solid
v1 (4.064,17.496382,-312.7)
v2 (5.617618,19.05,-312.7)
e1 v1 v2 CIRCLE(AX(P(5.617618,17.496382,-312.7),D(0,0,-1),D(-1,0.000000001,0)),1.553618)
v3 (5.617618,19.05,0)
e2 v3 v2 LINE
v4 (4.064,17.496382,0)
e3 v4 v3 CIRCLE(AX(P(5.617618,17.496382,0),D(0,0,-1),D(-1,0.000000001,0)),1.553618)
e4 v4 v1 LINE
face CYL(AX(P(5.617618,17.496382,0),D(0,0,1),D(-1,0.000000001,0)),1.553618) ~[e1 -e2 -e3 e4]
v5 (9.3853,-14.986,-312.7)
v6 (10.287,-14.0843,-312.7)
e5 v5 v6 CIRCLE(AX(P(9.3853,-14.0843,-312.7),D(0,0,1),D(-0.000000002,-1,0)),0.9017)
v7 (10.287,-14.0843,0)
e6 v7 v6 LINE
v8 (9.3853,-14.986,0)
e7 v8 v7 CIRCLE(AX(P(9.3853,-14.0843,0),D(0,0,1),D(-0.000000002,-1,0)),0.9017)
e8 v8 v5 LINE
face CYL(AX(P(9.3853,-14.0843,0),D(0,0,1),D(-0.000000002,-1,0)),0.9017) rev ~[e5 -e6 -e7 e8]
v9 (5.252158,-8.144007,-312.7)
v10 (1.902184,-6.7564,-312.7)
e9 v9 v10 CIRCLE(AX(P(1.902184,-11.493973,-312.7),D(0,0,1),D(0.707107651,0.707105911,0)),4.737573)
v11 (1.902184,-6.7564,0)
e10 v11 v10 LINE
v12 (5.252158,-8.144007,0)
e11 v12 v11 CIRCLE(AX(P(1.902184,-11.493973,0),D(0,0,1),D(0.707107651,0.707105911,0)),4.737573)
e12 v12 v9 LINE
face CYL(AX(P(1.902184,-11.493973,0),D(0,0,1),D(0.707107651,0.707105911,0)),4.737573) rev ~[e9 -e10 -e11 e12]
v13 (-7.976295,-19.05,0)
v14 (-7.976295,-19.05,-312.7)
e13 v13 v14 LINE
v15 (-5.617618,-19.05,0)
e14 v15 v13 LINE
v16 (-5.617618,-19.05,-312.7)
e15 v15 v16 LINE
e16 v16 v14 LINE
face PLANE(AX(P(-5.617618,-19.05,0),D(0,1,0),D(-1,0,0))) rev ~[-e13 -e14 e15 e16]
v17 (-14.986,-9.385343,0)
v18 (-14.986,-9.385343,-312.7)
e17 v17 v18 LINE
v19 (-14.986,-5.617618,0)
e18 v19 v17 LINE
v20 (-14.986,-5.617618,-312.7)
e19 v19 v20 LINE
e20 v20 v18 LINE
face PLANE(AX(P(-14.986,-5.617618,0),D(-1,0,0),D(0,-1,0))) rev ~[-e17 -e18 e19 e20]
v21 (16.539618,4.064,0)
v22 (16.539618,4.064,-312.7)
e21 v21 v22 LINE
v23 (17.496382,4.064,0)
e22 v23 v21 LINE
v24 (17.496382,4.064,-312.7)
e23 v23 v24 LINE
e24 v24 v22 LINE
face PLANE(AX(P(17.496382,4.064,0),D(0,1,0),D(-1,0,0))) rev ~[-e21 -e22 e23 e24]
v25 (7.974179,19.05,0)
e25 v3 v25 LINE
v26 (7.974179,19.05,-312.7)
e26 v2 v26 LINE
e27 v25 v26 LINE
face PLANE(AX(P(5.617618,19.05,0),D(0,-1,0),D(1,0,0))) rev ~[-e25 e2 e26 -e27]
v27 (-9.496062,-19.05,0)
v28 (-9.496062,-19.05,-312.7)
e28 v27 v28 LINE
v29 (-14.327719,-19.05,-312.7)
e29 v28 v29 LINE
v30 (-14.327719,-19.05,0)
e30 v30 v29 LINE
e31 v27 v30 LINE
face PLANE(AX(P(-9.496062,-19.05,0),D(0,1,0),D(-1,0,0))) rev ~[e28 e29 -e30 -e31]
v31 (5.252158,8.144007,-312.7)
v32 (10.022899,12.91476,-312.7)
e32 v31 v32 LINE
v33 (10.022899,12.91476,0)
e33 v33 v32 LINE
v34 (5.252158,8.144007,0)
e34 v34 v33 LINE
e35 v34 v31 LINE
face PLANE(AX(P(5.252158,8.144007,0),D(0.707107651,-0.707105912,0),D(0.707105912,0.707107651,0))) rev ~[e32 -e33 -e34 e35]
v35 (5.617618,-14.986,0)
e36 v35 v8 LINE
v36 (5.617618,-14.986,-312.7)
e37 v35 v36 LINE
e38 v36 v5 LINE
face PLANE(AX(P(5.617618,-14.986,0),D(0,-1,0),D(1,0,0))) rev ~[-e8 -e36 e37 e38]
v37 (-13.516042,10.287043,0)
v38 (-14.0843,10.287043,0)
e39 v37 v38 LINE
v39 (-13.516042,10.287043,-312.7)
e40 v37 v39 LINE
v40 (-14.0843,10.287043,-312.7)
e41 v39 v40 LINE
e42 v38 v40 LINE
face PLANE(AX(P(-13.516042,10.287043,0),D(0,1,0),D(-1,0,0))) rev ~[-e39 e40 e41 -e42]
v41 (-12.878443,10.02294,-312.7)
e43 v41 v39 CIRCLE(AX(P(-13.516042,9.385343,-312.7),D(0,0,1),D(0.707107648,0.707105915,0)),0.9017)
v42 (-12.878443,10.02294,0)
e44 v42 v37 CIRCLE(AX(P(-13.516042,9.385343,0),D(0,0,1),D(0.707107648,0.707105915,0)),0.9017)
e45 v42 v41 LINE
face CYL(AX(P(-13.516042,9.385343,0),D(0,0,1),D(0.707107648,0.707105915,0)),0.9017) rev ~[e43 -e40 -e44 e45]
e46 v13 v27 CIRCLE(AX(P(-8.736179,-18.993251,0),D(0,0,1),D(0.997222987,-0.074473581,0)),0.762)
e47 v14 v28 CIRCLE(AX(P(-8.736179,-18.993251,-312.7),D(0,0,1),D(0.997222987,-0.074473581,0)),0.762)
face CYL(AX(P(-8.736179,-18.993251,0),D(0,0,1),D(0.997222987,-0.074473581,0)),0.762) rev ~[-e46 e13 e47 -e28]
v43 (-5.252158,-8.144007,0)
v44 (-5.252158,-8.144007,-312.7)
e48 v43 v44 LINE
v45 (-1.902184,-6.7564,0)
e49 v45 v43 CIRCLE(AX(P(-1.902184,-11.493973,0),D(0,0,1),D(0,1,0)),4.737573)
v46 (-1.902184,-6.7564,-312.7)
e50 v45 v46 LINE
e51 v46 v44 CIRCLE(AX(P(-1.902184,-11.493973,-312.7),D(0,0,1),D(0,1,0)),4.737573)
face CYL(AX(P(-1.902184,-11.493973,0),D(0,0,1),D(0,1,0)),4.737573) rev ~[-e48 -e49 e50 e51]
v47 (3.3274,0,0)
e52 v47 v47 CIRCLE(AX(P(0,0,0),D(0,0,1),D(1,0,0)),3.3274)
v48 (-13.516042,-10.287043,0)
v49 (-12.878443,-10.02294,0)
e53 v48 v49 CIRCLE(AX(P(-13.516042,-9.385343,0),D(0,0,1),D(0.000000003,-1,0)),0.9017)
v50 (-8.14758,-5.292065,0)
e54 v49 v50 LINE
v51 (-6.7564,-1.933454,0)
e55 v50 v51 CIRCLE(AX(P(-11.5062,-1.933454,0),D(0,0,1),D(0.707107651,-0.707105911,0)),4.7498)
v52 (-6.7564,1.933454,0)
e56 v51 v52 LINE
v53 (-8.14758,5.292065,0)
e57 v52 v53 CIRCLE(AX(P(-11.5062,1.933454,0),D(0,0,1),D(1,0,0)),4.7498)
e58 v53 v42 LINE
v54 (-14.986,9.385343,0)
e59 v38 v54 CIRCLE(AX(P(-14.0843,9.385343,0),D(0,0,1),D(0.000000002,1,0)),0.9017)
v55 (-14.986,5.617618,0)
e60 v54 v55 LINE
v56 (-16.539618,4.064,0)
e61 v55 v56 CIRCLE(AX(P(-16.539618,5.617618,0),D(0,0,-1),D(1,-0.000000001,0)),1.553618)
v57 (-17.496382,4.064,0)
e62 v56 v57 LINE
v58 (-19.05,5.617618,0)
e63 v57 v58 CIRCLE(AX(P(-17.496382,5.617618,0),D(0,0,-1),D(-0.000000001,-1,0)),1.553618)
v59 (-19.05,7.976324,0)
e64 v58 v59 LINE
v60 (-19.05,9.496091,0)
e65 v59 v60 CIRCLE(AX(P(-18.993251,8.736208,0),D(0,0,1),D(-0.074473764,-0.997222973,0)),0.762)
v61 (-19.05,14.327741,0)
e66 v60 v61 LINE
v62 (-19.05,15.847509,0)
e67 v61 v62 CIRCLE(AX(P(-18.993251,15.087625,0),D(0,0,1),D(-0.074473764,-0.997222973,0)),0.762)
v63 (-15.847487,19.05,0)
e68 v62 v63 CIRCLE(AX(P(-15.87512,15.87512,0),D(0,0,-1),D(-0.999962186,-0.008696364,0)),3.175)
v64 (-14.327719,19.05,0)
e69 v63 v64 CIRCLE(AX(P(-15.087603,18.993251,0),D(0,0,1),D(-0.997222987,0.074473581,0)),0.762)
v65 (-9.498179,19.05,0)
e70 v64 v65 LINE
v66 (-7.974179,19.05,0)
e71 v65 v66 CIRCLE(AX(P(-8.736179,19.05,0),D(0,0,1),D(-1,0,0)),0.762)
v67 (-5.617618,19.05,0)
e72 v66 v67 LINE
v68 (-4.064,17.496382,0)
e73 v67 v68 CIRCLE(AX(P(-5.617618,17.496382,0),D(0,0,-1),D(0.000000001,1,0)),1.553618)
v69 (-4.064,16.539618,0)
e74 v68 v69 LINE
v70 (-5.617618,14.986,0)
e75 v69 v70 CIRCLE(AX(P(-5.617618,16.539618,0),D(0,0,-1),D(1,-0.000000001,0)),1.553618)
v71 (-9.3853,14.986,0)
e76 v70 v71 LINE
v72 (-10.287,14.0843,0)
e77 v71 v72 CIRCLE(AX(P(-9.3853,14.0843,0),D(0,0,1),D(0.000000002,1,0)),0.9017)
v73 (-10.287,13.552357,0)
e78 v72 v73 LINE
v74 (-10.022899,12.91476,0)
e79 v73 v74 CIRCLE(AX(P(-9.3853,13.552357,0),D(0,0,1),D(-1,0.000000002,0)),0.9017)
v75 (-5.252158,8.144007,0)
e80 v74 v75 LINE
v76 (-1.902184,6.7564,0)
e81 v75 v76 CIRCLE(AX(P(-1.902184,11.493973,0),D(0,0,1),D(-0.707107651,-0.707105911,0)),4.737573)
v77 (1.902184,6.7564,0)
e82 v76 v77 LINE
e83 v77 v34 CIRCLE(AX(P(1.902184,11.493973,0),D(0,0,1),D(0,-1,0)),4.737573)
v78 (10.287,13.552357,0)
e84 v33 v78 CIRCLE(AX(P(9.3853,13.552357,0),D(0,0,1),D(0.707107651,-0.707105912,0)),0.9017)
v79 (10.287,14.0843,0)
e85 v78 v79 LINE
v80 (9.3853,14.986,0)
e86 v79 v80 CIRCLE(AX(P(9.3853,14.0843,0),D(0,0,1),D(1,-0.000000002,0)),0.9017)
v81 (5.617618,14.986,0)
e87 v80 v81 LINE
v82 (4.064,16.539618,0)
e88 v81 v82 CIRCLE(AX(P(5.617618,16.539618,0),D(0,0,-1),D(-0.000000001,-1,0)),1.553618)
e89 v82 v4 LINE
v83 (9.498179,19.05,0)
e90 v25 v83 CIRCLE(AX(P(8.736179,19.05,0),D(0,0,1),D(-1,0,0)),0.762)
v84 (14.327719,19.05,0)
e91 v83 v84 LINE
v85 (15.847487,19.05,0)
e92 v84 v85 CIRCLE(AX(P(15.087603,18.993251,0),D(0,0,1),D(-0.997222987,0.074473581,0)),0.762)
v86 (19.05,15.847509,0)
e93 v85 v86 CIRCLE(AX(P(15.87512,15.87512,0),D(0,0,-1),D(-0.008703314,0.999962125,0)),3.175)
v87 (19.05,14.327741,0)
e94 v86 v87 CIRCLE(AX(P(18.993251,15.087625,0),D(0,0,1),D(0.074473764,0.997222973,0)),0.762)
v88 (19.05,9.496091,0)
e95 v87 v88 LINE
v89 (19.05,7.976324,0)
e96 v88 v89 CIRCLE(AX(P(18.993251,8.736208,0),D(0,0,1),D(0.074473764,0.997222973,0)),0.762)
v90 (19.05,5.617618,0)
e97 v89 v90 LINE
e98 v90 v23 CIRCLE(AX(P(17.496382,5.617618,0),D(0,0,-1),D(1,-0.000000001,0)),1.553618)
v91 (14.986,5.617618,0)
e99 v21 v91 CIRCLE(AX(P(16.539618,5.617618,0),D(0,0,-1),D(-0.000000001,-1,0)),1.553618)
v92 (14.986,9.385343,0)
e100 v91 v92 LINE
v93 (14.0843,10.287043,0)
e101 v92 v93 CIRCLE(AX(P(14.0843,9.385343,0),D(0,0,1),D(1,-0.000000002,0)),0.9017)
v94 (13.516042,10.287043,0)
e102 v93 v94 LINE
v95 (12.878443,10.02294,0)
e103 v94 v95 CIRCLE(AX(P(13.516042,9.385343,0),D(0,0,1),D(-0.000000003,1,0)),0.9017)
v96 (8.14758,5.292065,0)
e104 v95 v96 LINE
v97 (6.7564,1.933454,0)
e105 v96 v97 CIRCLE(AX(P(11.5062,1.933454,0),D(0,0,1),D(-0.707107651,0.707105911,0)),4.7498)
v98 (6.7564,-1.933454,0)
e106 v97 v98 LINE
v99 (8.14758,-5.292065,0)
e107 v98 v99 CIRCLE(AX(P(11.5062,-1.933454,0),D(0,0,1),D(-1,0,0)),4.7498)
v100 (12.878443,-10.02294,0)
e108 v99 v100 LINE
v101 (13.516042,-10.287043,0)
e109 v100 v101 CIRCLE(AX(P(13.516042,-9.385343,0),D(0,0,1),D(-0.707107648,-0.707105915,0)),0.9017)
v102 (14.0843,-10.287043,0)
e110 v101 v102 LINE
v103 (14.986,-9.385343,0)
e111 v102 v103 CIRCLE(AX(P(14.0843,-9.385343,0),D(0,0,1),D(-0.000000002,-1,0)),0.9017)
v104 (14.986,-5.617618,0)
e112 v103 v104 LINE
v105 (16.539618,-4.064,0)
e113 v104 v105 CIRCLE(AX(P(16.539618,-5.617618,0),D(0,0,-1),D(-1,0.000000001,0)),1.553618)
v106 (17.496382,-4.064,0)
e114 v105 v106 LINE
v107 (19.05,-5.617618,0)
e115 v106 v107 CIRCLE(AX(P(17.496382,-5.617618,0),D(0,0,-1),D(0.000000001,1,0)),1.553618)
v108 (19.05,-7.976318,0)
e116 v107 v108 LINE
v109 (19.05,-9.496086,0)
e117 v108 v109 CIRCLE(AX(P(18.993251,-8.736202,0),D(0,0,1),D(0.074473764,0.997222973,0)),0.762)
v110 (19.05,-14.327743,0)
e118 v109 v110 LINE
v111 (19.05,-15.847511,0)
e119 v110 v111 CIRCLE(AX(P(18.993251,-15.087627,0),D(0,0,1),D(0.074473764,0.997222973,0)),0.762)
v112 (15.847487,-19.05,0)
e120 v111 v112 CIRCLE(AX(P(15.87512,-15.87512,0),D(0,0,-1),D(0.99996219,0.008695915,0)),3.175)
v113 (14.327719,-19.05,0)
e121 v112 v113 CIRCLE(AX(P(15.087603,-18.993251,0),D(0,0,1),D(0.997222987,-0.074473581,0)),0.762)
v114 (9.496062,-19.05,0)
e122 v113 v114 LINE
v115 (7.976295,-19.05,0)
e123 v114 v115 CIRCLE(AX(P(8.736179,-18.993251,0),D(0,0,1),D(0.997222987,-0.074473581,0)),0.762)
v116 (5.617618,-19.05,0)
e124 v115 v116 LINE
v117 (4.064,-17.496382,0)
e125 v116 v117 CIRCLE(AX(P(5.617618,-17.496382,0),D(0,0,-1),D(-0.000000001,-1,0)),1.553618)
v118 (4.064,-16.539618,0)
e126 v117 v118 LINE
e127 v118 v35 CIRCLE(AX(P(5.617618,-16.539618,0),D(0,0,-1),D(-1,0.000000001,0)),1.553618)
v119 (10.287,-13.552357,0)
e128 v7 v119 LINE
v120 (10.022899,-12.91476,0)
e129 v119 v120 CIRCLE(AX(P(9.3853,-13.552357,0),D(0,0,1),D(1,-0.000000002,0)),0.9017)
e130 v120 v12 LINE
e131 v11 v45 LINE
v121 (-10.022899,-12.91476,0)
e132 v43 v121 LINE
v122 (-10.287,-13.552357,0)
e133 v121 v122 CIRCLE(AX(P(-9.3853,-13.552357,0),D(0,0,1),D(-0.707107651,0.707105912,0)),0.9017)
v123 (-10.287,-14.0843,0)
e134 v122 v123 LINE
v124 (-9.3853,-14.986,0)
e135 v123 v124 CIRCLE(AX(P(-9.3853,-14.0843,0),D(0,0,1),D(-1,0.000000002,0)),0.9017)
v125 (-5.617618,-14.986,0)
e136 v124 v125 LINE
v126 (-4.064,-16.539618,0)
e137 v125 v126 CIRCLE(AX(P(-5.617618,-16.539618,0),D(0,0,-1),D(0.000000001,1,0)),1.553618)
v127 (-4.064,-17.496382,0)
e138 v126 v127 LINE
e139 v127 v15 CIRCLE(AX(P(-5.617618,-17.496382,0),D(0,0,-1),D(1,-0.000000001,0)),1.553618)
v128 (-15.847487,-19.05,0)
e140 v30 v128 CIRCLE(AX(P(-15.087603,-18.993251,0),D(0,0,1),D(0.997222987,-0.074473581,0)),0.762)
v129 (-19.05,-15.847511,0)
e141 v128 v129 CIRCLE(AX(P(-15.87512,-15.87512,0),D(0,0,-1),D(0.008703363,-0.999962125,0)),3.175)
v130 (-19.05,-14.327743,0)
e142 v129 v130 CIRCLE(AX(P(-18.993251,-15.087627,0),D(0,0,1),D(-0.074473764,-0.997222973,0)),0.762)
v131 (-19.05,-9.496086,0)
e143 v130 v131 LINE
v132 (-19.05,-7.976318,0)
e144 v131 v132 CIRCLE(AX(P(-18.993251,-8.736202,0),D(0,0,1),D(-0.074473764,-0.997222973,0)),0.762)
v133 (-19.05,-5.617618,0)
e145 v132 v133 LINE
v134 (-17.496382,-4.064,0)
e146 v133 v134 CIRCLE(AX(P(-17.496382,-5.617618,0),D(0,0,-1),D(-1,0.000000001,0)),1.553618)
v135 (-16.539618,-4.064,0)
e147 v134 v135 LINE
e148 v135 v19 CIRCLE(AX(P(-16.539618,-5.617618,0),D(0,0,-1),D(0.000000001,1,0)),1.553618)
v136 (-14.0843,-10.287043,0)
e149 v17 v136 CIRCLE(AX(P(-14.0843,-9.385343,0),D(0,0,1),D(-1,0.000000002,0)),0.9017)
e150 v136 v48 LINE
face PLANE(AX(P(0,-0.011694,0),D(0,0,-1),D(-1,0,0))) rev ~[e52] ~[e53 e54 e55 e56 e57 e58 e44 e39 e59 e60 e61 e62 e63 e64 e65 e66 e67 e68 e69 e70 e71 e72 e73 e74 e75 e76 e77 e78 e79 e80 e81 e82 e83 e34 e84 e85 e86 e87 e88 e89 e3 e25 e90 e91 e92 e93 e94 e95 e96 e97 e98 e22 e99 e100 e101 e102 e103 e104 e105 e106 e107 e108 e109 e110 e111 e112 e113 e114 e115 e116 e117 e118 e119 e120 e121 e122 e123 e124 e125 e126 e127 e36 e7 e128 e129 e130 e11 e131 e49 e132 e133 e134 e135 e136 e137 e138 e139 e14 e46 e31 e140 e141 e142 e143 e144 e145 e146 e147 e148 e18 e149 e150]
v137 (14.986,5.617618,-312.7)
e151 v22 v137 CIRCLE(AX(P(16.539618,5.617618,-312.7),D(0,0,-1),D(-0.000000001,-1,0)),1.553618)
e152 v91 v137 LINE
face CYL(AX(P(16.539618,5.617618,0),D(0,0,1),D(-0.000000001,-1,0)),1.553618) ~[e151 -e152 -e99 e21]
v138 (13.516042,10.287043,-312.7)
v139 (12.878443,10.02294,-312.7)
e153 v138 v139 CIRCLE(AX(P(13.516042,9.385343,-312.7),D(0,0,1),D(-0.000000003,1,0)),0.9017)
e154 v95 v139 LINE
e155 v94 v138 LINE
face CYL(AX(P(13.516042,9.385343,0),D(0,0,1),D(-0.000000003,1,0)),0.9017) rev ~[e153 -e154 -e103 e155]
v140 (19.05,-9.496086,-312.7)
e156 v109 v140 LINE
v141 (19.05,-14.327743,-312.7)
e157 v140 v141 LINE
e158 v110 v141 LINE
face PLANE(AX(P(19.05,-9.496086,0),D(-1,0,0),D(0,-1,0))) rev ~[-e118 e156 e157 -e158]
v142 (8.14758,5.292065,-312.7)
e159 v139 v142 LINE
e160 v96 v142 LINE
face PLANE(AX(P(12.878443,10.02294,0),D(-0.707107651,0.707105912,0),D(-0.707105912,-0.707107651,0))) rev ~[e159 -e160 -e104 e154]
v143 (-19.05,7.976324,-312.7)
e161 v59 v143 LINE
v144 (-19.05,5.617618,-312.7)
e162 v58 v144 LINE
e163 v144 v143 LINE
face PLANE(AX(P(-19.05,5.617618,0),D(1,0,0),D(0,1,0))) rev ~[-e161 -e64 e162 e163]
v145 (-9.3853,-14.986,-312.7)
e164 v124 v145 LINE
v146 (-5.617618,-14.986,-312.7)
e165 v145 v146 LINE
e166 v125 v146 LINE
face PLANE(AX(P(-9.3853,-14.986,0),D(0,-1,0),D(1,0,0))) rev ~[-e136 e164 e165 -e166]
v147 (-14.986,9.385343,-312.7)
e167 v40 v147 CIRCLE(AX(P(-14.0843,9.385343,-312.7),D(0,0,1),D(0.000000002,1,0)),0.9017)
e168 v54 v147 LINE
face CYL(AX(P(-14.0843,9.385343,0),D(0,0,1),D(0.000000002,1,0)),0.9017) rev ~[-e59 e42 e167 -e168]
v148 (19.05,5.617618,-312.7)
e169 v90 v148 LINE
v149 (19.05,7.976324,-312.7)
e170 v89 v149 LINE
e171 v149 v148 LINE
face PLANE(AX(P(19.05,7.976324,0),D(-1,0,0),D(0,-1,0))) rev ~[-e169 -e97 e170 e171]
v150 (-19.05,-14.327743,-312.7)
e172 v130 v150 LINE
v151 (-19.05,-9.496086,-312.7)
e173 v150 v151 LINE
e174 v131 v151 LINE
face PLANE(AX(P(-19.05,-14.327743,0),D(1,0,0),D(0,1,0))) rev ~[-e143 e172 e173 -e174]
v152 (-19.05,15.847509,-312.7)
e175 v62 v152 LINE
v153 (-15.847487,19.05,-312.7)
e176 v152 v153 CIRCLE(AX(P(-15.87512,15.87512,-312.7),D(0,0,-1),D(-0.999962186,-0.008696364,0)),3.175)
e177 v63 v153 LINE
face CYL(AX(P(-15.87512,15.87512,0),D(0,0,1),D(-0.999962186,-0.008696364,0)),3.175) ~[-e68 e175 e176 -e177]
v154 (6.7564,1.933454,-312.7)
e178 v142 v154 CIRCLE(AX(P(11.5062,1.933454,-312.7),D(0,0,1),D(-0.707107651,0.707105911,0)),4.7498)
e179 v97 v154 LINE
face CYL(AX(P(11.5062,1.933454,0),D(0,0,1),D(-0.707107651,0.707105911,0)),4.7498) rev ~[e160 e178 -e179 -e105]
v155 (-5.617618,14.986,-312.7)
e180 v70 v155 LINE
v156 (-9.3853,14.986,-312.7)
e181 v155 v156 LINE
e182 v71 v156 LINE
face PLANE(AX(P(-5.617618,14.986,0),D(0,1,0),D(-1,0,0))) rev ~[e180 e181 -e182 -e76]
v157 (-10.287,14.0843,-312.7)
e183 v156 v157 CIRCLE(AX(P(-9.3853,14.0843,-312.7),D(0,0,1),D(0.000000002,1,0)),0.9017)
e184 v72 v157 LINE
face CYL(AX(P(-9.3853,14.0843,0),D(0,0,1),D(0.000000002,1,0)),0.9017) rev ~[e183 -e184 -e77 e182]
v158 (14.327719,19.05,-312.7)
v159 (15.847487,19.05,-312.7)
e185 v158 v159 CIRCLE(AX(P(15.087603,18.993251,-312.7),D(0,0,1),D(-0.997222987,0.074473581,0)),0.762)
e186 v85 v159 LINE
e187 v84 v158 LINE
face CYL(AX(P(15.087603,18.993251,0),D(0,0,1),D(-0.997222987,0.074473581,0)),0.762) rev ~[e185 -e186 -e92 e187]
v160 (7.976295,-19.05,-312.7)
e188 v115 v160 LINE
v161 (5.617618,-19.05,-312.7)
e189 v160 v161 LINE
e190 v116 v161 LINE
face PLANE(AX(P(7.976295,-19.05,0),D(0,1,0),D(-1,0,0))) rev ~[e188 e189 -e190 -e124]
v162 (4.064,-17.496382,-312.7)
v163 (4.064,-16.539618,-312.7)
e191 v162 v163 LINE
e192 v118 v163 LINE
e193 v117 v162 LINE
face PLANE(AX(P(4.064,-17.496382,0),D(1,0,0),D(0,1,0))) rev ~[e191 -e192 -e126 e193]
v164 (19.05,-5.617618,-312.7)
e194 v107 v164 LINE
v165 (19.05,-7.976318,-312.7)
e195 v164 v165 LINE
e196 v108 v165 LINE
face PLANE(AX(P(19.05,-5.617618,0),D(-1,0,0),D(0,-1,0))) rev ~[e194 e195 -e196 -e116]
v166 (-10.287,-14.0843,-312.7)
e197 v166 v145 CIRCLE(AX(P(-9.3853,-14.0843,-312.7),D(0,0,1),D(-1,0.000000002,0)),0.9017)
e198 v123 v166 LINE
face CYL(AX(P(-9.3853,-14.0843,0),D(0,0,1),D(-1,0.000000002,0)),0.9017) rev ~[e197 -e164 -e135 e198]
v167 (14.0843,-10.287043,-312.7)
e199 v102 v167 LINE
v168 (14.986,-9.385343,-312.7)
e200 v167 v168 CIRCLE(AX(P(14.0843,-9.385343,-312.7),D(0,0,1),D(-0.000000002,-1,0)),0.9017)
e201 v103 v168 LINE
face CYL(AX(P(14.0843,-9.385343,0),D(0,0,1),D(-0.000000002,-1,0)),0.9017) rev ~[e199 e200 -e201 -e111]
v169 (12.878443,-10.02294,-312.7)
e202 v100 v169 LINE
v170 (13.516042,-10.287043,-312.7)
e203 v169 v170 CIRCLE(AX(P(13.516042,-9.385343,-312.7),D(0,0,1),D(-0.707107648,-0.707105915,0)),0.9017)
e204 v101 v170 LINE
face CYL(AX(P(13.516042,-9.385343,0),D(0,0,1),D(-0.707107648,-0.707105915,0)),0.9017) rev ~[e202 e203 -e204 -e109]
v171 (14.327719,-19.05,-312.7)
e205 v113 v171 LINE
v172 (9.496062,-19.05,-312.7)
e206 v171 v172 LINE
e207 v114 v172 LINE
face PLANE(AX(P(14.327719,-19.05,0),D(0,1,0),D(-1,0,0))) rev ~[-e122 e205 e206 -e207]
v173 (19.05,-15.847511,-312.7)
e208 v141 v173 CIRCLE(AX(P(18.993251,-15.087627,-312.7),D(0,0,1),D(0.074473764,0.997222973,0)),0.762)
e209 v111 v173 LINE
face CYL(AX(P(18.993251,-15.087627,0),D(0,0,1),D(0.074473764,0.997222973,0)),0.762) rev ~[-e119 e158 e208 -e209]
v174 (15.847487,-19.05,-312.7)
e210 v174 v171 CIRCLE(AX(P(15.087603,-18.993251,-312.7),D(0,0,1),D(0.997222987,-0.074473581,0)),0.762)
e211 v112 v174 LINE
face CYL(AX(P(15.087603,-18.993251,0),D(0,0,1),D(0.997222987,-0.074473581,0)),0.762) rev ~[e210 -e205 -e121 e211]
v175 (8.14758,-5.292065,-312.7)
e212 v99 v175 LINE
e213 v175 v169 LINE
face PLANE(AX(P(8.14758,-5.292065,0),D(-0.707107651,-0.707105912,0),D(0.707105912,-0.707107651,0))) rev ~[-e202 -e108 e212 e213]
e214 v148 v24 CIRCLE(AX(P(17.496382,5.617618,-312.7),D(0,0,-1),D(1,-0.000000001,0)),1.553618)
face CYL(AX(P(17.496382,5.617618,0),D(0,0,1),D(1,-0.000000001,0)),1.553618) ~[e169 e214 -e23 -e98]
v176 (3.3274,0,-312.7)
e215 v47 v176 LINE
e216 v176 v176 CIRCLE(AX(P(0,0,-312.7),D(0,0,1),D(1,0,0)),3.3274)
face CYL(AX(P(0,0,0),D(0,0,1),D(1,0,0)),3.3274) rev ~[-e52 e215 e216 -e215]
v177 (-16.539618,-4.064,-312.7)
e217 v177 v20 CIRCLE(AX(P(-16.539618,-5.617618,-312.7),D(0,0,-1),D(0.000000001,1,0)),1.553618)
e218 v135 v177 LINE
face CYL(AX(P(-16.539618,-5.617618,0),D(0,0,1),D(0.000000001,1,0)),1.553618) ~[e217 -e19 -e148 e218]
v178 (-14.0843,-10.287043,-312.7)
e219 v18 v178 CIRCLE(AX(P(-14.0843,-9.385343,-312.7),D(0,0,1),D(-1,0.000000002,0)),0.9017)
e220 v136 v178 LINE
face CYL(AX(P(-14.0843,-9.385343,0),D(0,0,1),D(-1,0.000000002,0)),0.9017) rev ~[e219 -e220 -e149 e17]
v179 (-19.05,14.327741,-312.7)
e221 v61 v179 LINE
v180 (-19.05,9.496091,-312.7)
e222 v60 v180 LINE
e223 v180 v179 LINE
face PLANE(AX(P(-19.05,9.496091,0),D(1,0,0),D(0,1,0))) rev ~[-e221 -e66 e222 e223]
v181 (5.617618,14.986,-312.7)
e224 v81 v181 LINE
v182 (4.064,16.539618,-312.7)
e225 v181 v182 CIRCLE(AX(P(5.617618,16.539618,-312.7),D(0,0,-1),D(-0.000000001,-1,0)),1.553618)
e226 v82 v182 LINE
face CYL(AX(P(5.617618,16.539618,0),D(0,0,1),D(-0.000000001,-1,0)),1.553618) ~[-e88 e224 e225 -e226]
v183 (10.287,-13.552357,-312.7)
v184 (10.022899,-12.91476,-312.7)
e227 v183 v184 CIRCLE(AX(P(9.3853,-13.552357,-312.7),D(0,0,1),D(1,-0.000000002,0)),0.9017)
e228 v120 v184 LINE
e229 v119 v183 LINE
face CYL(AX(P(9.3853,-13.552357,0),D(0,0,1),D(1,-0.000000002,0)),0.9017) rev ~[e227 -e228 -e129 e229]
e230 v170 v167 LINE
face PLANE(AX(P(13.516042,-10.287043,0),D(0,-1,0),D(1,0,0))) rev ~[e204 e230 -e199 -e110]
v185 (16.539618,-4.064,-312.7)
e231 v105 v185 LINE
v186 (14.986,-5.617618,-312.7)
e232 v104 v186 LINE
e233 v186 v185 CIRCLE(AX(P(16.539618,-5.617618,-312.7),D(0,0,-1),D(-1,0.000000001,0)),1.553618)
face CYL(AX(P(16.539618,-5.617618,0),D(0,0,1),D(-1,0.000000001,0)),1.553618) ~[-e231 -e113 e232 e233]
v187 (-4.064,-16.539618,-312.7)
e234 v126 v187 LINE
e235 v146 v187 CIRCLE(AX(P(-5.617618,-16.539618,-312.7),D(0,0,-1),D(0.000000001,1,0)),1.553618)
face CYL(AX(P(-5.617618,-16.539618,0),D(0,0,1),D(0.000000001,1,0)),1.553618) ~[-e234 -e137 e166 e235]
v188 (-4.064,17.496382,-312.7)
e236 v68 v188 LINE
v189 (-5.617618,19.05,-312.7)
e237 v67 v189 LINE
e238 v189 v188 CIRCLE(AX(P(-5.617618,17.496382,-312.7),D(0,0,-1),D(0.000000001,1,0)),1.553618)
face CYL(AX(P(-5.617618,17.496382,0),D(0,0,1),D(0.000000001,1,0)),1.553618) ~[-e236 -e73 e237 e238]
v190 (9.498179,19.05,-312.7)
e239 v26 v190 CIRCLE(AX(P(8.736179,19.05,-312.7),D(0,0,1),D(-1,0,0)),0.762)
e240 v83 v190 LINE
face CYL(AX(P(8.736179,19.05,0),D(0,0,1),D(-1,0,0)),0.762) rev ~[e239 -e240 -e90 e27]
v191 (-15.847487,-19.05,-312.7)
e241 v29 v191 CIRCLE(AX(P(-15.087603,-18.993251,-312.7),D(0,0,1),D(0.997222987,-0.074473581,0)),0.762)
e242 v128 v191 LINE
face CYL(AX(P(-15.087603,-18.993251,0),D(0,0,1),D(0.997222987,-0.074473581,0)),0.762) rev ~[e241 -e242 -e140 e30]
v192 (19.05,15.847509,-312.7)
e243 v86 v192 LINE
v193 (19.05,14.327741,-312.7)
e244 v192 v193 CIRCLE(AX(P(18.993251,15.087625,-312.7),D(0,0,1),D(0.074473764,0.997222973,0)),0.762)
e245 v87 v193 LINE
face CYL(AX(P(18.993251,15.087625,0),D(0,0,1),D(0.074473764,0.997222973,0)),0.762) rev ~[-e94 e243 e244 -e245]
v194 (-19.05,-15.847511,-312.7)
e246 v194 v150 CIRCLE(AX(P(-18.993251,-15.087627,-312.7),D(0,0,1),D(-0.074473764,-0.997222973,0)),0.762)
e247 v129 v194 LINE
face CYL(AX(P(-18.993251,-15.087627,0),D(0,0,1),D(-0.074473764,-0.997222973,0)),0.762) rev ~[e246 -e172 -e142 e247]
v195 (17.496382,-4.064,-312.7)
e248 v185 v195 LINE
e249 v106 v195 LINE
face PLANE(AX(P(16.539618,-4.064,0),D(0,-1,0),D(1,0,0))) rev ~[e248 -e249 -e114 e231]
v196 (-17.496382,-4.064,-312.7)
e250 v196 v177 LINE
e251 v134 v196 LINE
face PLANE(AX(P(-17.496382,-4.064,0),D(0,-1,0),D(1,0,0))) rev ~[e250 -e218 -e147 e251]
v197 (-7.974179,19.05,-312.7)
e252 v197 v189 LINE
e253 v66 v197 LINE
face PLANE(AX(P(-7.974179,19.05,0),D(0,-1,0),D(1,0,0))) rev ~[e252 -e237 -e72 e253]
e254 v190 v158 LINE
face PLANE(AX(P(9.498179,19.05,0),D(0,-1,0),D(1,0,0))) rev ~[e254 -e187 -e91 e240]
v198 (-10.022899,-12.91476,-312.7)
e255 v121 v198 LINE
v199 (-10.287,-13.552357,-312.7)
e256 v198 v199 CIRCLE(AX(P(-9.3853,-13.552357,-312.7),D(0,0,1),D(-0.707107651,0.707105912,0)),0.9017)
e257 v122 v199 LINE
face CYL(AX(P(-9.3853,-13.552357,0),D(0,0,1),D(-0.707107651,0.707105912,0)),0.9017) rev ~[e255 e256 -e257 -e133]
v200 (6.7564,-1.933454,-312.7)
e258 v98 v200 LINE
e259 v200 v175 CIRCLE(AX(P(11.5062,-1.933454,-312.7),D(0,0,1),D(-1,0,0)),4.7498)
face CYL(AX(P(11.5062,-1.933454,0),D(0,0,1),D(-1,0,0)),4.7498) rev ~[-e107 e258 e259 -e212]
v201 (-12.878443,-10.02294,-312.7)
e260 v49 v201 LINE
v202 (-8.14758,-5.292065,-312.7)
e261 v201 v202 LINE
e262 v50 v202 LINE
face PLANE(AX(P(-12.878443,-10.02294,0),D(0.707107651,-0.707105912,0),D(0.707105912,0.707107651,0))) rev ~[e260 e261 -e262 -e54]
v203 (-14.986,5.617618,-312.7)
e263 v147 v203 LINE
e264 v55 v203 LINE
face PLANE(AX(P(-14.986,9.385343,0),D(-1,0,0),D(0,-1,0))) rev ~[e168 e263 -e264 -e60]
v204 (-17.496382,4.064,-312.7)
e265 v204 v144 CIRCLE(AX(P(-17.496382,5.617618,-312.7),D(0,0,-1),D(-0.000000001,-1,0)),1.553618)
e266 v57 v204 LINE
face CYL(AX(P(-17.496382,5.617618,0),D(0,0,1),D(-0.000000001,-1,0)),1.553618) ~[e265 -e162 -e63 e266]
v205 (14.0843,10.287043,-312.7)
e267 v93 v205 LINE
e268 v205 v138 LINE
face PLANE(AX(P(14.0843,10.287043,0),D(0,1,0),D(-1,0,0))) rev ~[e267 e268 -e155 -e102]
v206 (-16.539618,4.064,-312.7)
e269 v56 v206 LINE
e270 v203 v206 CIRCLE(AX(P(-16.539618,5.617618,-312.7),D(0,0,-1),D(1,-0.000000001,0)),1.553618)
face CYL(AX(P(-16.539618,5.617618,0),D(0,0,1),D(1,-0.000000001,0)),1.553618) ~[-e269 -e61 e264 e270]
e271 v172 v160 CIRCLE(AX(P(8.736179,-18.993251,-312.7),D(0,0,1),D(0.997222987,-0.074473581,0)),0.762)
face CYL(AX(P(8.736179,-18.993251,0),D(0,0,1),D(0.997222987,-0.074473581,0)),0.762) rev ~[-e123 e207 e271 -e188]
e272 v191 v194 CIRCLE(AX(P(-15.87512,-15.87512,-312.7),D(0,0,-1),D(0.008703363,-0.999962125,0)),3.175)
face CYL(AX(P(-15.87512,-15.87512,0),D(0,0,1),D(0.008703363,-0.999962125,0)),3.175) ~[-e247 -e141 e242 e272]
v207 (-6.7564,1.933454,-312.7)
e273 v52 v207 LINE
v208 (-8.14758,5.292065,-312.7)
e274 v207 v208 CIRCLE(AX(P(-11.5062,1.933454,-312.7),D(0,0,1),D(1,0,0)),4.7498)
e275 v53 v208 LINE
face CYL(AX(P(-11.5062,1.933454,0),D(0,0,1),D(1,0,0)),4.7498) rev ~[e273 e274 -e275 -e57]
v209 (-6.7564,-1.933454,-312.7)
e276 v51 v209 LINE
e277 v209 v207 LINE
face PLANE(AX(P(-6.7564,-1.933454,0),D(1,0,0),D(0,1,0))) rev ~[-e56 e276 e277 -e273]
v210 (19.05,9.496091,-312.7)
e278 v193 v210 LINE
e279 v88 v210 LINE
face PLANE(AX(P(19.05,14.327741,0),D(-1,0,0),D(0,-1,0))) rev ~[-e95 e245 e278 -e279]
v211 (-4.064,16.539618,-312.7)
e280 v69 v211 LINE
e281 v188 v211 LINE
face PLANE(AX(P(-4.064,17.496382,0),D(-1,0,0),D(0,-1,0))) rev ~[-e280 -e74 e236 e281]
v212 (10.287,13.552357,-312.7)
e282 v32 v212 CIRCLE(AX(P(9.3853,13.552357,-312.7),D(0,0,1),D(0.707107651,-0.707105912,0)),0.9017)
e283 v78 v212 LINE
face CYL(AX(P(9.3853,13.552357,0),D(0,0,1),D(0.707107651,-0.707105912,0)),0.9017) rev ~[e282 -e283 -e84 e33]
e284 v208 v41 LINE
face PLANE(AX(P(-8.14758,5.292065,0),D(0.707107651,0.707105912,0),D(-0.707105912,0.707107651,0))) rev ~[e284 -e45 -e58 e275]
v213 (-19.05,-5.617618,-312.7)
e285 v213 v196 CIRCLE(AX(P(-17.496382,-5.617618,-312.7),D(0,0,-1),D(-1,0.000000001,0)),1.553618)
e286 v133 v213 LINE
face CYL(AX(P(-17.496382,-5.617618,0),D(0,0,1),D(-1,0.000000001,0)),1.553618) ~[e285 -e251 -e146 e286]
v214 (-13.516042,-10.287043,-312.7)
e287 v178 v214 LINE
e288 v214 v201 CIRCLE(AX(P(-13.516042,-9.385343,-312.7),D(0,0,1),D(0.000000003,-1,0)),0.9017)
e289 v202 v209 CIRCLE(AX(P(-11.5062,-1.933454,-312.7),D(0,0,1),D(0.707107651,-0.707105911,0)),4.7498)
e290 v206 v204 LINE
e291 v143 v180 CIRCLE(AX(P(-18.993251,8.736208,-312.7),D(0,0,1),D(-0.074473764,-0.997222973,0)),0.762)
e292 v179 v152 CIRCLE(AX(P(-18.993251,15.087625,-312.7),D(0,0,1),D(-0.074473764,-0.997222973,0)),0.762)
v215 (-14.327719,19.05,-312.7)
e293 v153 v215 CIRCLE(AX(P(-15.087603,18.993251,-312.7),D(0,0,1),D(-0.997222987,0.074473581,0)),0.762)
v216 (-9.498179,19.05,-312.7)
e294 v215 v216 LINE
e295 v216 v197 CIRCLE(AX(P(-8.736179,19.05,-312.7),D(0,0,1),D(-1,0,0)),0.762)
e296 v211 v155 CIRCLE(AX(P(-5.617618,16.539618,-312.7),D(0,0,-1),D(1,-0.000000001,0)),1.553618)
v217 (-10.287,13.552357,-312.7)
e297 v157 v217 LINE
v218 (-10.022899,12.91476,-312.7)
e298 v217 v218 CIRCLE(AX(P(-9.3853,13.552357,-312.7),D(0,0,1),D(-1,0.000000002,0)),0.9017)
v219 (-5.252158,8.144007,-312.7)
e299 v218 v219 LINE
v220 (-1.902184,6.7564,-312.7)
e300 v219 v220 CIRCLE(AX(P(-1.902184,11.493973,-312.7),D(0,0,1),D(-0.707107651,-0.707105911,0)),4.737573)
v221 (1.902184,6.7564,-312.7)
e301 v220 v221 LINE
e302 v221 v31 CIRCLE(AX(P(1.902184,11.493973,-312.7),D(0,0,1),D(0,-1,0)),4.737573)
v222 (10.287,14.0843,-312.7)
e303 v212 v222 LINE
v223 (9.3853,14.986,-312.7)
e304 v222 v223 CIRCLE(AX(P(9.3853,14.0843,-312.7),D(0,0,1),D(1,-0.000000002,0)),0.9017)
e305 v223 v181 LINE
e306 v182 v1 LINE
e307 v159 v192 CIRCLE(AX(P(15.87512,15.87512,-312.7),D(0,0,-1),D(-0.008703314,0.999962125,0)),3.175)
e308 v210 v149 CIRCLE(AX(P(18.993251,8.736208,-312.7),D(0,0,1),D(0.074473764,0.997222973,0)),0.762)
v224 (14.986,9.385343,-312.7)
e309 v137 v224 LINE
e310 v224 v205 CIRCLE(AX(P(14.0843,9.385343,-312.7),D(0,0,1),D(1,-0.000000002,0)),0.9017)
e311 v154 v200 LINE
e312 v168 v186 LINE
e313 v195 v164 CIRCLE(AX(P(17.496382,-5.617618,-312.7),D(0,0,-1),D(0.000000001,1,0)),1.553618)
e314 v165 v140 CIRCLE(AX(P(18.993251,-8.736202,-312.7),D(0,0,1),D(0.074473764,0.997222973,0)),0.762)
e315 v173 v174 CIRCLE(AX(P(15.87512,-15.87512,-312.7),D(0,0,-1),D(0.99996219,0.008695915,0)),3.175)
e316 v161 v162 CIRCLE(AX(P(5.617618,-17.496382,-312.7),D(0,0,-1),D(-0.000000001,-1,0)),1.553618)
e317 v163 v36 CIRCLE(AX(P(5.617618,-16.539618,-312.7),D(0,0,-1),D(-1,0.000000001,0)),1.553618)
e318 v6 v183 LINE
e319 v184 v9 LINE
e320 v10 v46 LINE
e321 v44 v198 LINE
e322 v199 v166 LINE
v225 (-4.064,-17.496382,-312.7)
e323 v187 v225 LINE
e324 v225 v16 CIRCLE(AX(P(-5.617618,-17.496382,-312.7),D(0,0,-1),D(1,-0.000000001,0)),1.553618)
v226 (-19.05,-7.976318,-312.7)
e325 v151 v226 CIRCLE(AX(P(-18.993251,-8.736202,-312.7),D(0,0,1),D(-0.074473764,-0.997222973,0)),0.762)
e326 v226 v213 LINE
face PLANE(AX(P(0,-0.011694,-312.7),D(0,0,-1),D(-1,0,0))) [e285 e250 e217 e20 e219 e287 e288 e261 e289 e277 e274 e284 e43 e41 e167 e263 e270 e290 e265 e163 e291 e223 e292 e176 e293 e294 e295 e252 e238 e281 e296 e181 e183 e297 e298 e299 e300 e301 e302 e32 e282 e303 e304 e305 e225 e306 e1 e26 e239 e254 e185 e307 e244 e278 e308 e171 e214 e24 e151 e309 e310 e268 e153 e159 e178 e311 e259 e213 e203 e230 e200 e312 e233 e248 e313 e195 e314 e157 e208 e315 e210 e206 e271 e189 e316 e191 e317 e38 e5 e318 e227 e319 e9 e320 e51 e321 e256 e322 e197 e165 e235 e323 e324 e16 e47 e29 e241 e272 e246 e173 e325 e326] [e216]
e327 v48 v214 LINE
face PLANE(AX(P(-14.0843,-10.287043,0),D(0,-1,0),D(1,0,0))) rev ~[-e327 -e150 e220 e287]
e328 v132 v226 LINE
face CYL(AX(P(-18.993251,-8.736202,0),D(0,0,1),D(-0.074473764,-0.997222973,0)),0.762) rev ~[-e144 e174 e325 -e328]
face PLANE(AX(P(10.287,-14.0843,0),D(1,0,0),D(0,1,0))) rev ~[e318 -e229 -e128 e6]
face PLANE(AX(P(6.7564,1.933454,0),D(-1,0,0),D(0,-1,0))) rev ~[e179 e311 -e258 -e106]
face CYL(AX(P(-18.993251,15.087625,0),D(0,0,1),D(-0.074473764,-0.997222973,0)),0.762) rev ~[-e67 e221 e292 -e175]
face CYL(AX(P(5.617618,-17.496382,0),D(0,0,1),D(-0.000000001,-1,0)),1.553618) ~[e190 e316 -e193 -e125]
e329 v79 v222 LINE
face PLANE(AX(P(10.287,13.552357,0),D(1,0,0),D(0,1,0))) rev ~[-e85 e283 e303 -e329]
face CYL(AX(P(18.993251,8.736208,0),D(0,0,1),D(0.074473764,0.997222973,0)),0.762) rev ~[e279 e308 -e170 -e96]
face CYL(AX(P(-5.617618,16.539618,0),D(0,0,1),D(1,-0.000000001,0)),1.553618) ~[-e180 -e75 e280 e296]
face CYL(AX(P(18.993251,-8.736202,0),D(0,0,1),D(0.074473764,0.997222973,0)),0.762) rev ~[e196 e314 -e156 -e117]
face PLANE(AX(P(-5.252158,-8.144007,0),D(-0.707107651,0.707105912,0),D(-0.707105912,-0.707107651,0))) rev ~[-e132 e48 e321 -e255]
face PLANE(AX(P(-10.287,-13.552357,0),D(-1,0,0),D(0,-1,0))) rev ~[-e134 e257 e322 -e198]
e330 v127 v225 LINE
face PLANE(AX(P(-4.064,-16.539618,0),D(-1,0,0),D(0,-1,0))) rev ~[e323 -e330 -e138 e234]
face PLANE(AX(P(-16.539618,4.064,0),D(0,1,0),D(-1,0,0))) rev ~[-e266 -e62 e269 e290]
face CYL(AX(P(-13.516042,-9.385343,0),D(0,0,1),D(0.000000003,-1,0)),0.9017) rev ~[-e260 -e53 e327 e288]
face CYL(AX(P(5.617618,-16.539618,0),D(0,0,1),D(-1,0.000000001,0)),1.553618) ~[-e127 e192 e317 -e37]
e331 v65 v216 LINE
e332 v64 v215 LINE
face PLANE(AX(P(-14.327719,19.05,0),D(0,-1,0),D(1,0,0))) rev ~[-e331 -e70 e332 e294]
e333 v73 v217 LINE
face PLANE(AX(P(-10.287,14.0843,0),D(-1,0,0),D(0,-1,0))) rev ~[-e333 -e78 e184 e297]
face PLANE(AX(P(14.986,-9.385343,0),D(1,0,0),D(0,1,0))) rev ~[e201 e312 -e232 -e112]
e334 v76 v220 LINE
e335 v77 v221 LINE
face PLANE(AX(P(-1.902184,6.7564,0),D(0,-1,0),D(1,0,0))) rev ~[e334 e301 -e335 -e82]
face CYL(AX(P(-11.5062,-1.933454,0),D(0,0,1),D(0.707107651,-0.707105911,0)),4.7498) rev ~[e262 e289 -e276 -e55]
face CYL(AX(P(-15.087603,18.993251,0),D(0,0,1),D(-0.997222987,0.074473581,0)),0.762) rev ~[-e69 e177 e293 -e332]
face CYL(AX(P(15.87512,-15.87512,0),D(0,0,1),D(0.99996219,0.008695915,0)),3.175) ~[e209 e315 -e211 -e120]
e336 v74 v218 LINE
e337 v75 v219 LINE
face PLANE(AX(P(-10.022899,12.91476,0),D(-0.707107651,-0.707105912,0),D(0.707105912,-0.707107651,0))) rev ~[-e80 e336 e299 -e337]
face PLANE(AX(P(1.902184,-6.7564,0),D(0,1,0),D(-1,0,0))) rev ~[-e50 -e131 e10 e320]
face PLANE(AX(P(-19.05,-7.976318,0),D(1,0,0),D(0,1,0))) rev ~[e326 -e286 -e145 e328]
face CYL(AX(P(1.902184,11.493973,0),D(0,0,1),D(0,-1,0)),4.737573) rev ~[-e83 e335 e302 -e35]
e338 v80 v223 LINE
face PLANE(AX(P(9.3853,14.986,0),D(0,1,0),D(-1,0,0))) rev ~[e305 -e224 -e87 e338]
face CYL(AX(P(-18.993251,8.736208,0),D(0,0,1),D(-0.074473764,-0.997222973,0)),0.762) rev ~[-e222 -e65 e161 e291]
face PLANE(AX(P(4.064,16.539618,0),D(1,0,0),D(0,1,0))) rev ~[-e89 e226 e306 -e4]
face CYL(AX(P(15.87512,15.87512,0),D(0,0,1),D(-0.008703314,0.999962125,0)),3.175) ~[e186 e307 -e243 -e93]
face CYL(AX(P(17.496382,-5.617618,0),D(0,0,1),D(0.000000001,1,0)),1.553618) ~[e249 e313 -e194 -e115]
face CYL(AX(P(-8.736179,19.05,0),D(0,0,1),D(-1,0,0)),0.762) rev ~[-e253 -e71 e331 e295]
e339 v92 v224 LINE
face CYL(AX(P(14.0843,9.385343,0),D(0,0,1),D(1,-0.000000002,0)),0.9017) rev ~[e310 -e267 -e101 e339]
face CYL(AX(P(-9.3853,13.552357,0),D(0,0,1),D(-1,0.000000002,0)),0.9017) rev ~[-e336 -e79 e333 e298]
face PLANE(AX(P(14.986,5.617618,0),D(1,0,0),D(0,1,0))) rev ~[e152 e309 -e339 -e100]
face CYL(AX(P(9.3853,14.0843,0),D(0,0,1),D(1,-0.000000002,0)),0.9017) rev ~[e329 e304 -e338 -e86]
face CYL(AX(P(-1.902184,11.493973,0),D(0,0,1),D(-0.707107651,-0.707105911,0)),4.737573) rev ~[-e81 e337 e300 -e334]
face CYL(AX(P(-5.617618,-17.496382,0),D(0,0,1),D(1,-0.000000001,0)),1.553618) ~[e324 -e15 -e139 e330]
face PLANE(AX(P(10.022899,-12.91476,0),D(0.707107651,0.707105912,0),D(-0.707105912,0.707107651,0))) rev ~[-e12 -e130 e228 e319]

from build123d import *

# Parameters (mm, degrees)
SKETCH1_R      = 3.3274
EXTRUDE1_DEPTH = 312.7


with BuildPart() as part:
    # Sketch1 → Extrude1 (new body)
    with BuildSketch(Plane.XY):
        with BuildLine():
            Line((-10.022898969, 12.91475973), (-5.252158105, 8.144007132))
            ThreePointArc((-5.252158105, 8.144007132), (-3.715177372, 7.117027388), (-1.902183975, 6.7564))
            Line((-1.902183975, 6.7564), (1.902183975, 6.7564))
            ThreePointArc((1.902183975, 6.7564), (3.715177372, 7.117027388), (5.252158105, 8.144007132))
            Line((5.252158105, 8.144007132), (10.022898969, 12.91475973))
            ThreePointArc((10.022898969, 12.91475973), (10.218362387, 13.207291992), (10.287, 13.552357131))
            Line((10.287, 13.552357131), (10.287, 14.0843))
            ThreePointArc((10.287, 14.0843), (10.022898185, 14.721898185), (9.3853, 14.986))
            Line((9.3853, 14.986), (5.617617549, 14.986))
            ThreePointArc((5.617617549, 14.986), (4.519044045, 15.441044045), (4.064, 16.539617549))
            Line((4.064, 16.539617549), (4.064, 17.496382451))
            ThreePointArc((4.064, 17.496382451), (4.519044045, 18.594955955), (5.617617549, 19.05))
            Line((5.617617549, 19.05), (7.974178704, 19.05))
            ThreePointArc((7.974178704, 19.05), (8.736178704, 18.288), (9.498178704, 19.05))
            Line((9.498178704, 19.05), (14.327719207, 19.05))
            ThreePointArc((14.327719207, 19.05), (15.087603123, 18.231251131), (15.847487039, 19.05))
            ThreePointArc((15.847487039, 19.05), (18.120176289, 18.120192083), (19.05, 15.847509295))
            ThreePointArc((19.05, 15.847509295), (18.231250992, 15.08762539), (19.05, 14.327741484))
            Line((19.05, 14.327741484), (19.05, 9.496091471))
            ThreePointArc((19.05, 9.496091471), (18.231250992, 8.736207565), (19.05, 7.97632366))
            Line((19.05, 7.97632366), (19.05, 5.617617549))
            ThreePointArc((19.05, 5.617617549), (18.594955955, 4.519044045), (17.496382451, 4.064))
            Line((17.496382451, 4.064), (16.539617549, 4.064))
            ThreePointArc((16.539617549, 4.064), (15.441044045, 4.519044045), (14.986, 5.617617549))
            Line((14.986, 5.617617549), (14.986, 9.385342516))
            ThreePointArc((14.986, 9.385342516), (14.721898185, 10.022940701), (14.0843, 10.287042516))
            Line((14.0843, 10.287042516), (13.516042086, 10.287042516))
            ThreePointArc((13.516042086, 10.287042516), (13.170975923, 10.218404478), (12.878443117, 10.022939917))
            Line((12.878443117, 10.022939917), (8.14758008, 5.292065243))
            ThreePointArc((8.14758008, 5.292065243), (7.117955879, 3.751120653), (6.7564, 1.933453584))
            Line((6.7564, 1.933453584), (6.7564, -1.933453584))
            ThreePointArc((6.7564, -1.933453584), (7.117955879, -3.751120653), (8.14758008, -5.292065243))
            Line((8.14758008, -5.292065243), (12.878443117, -10.022939917))
            ThreePointArc((12.878443117, -10.022939917), (13.170975923, -10.218404478), (13.516042086, -10.287042516))
            Line((13.516042086, -10.287042516), (14.0843, -10.287042516))
            ThreePointArc((14.0843, -10.287042516), (14.721898185, -10.022940701), (14.986, -9.385342516))
            Line((14.986, -9.385342516), (14.986, -5.617617549))
            ThreePointArc((14.986, -5.617617549), (15.441044045, -4.519044045), (16.539617549, -4.064))
            Line((16.539617549, -4.064), (17.496382451, -4.064))
            ThreePointArc((17.496382451, -4.064), (18.594955955, -4.519044045), (19.05, -5.617617549))
            Line((19.05, -5.617617549), (19.05, -7.976318491))
            ThreePointArc((19.05, -7.976318491), (18.231250992, -8.736202396), (19.05, -9.496086302))
            Line((19.05, -9.496086302), (19.05, -14.32774291))
            ThreePointArc((19.05, -14.32774291), (18.231250992, -15.087626816), (19.05, -15.847510721))
            ThreePointArc((19.05, -15.847510721), (18.120175716, -18.120192644), (15.847486868, -19.05))
            ThreePointArc((15.847486868, -19.05), (15.087602952, -18.231251131), (14.327719036, -19.05))
            Line((14.327719036, -19.05), (9.496062448, -19.05))
            ThreePointArc((9.496062448, -19.05), (8.736178532, -18.231251131), (7.976294616, -19.05))
            Line((7.976294616, -19.05), (5.617617549, -19.05))
            ThreePointArc((5.617617549, -19.05), (4.519044045, -18.594955955), (4.064, -17.496382451))
            Line((4.064, -17.496382451), (4.064, -16.539617549))
            ThreePointArc((4.064, -16.539617549), (4.519044045, -15.441044045), (5.617617549, -14.986))
            Line((5.617617549, -14.986), (9.3853, -14.986))
            ThreePointArc((9.3853, -14.986), (10.022898185, -14.721898185), (10.287, -14.0843))
            Line((10.287, -14.0843), (10.287, -13.552357131))
            ThreePointArc((10.287, -13.552357131), (10.218362387, -13.207291992), (10.022898969, -12.91475973))
            Line((10.022898969, -12.91475973), (5.252158105, -8.144007132))
            ThreePointArc((5.252158105, -8.144007132), (3.715177372, -7.117027388), (1.902183975, -6.7564))
            Line((1.902183975, -6.7564), (-1.902183975, -6.7564))
            ThreePointArc((-1.902183975, -6.7564), (-3.715177372, -7.117027388), (-5.252158105, -8.144007132))
            Line((-5.252158105, -8.144007132), (-10.022898969, -12.91475973))
            ThreePointArc((-10.022898969, -12.91475973), (-10.218362387, -13.207291992), (-10.287, -13.552357131))
            Line((-10.287, -13.552357131), (-10.287, -14.0843))
            ThreePointArc((-10.287, -14.0843), (-10.022898185, -14.721898185), (-9.3853, -14.986))
            Line((-9.3853, -14.986), (-5.617617549, -14.986))
            ThreePointArc((-5.617617549, -14.986), (-4.519044045, -15.441044045), (-4.064, -16.539617549))
            Line((-4.064, -16.539617549), (-4.064, -17.496382451))
            ThreePointArc((-4.064, -17.496382451), (-4.519044045, -18.594955955), (-5.617617549, -19.05))
            Line((-5.617617549, -19.05), (-7.976294616, -19.05))
            ThreePointArc((-7.976294616, -19.05), (-8.736178532, -18.231251131), (-9.496062448, -19.05))
            Line((-9.496062448, -19.05), (-14.327719036, -19.05))
            ThreePointArc((-14.327719036, -19.05), (-15.087602952, -18.231251131), (-15.847486868, -19.05))
            ThreePointArc((-15.847486868, -19.05), (-18.120175716, -18.120192644), (-19.05, -15.847510721))
            ThreePointArc((-19.05, -15.847510721), (-18.231250992, -15.087626816), (-19.05, -14.32774291))
            Line((-19.05, -14.32774291), (-19.05, -9.496086302))
            ThreePointArc((-19.05, -9.496086302), (-18.231250992, -8.736202396), (-19.05, -7.976318491))
            Line((-19.05, -7.976318491), (-19.05, -5.617617549))
            ThreePointArc((-19.05, -5.617617549), (-18.594955955, -4.519044045), (-17.496382451, -4.064))
            Line((-17.496382451, -4.064), (-16.539617549, -4.064))
            ThreePointArc((-16.539617549, -4.064), (-15.441044045, -4.519044045), (-14.986, -5.617617549))
            Line((-14.986, -5.617617549), (-14.986, -9.385342516))
            ThreePointArc((-14.986, -9.385342516), (-14.721898185, -10.022940701), (-14.0843, -10.287042516))
            Line((-14.0843, -10.287042516), (-13.516042086, -10.287042516))
            ThreePointArc((-13.516042086, -10.287042516), (-13.170975923, -10.218404478), (-12.878443117, -10.022939917))
            Line((-12.878443117, -10.022939917), (-8.14758008, -5.292065243))
            ThreePointArc((-8.14758008, -5.292065243), (-7.117955879, -3.751120653), (-6.7564, -1.933453584))
            Line((-6.7564, -1.933453584), (-6.7564, 1.933453584))
            ThreePointArc((-6.7564, 1.933453584), (-7.117955879, 3.751120653), (-8.14758008, 5.292065243))
            Line((-8.14758008, 5.292065243), (-12.878443117, 10.022939917))
            ThreePointArc((-12.878443117, 10.022939917), (-13.170975923, 10.218404478), (-13.516042086, 10.287042516))
            Line((-13.516042086, 10.287042516), (-14.0843, 10.287042516))
            ThreePointArc((-14.0843, 10.287042516), (-14.721898185, 10.022940701), (-14.986, 9.385342516))
            Line((-14.986, 9.385342516), (-14.986, 5.617617549))
            ThreePointArc((-14.986, 5.617617549), (-15.441044045, 4.519044045), (-16.539617549, 4.064))
            Line((-16.539617549, 4.064), (-17.496382451, 4.064))
            ThreePointArc((-17.496382451, 4.064), (-18.594955955, 4.519044045), (-19.05, 5.617617549))
            Line((-19.05, 5.617617549), (-19.05, 7.97632366))
            ThreePointArc((-19.05, 7.97632366), (-18.231250992, 8.736207565), (-19.05, 9.496091471))
            Line((-19.05, 9.496091471), (-19.05, 14.327741484))
            ThreePointArc((-19.05, 14.327741484), (-18.231250992, 15.08762539), (-19.05, 15.847509295))
            ThreePointArc((-19.05, 15.847509295), (-18.120176289, 18.120192083), (-15.847487039, 19.05))
            ThreePointArc((-15.847487039, 19.05), (-15.087603123, 18.231251131), (-14.327719207, 19.05))
            Line((-14.327719207, 19.05), (-9.498178704, 19.05))
            ThreePointArc((-9.498178704, 19.05), (-8.736178704, 18.288), (-7.974178704, 19.05))
            Line((-7.974178704, 19.05), (-5.617617549, 19.05))
            ThreePointArc((-5.617617549, 19.05), (-4.519044045, 18.594955955), (-4.064, 17.496382451))
            Line((-4.064, 17.496382451), (-4.064, 16.539617549))
            ThreePointArc((-4.064, 16.539617549), (-4.519044045, 15.441044045), (-5.617617549, 14.986))
            Line((-5.617617549, 14.986), (-9.3853, 14.986))
            ThreePointArc((-9.3853, 14.986), (-10.022898185, 14.721898185), (-10.287, 14.0843))
            Line((-10.287, 14.0843), (-10.287, 13.552357131))
            ThreePointArc((-10.287, 13.552357131), (-10.218362387, 13.207291992), (-10.022898969, 12.91475973))
        make_face()
        Circle(SKETCH1_R, mode=Mode.SUBTRACT)
    extrude(amount=-EXTRUDE1_DEPTH)


solid = part.part
